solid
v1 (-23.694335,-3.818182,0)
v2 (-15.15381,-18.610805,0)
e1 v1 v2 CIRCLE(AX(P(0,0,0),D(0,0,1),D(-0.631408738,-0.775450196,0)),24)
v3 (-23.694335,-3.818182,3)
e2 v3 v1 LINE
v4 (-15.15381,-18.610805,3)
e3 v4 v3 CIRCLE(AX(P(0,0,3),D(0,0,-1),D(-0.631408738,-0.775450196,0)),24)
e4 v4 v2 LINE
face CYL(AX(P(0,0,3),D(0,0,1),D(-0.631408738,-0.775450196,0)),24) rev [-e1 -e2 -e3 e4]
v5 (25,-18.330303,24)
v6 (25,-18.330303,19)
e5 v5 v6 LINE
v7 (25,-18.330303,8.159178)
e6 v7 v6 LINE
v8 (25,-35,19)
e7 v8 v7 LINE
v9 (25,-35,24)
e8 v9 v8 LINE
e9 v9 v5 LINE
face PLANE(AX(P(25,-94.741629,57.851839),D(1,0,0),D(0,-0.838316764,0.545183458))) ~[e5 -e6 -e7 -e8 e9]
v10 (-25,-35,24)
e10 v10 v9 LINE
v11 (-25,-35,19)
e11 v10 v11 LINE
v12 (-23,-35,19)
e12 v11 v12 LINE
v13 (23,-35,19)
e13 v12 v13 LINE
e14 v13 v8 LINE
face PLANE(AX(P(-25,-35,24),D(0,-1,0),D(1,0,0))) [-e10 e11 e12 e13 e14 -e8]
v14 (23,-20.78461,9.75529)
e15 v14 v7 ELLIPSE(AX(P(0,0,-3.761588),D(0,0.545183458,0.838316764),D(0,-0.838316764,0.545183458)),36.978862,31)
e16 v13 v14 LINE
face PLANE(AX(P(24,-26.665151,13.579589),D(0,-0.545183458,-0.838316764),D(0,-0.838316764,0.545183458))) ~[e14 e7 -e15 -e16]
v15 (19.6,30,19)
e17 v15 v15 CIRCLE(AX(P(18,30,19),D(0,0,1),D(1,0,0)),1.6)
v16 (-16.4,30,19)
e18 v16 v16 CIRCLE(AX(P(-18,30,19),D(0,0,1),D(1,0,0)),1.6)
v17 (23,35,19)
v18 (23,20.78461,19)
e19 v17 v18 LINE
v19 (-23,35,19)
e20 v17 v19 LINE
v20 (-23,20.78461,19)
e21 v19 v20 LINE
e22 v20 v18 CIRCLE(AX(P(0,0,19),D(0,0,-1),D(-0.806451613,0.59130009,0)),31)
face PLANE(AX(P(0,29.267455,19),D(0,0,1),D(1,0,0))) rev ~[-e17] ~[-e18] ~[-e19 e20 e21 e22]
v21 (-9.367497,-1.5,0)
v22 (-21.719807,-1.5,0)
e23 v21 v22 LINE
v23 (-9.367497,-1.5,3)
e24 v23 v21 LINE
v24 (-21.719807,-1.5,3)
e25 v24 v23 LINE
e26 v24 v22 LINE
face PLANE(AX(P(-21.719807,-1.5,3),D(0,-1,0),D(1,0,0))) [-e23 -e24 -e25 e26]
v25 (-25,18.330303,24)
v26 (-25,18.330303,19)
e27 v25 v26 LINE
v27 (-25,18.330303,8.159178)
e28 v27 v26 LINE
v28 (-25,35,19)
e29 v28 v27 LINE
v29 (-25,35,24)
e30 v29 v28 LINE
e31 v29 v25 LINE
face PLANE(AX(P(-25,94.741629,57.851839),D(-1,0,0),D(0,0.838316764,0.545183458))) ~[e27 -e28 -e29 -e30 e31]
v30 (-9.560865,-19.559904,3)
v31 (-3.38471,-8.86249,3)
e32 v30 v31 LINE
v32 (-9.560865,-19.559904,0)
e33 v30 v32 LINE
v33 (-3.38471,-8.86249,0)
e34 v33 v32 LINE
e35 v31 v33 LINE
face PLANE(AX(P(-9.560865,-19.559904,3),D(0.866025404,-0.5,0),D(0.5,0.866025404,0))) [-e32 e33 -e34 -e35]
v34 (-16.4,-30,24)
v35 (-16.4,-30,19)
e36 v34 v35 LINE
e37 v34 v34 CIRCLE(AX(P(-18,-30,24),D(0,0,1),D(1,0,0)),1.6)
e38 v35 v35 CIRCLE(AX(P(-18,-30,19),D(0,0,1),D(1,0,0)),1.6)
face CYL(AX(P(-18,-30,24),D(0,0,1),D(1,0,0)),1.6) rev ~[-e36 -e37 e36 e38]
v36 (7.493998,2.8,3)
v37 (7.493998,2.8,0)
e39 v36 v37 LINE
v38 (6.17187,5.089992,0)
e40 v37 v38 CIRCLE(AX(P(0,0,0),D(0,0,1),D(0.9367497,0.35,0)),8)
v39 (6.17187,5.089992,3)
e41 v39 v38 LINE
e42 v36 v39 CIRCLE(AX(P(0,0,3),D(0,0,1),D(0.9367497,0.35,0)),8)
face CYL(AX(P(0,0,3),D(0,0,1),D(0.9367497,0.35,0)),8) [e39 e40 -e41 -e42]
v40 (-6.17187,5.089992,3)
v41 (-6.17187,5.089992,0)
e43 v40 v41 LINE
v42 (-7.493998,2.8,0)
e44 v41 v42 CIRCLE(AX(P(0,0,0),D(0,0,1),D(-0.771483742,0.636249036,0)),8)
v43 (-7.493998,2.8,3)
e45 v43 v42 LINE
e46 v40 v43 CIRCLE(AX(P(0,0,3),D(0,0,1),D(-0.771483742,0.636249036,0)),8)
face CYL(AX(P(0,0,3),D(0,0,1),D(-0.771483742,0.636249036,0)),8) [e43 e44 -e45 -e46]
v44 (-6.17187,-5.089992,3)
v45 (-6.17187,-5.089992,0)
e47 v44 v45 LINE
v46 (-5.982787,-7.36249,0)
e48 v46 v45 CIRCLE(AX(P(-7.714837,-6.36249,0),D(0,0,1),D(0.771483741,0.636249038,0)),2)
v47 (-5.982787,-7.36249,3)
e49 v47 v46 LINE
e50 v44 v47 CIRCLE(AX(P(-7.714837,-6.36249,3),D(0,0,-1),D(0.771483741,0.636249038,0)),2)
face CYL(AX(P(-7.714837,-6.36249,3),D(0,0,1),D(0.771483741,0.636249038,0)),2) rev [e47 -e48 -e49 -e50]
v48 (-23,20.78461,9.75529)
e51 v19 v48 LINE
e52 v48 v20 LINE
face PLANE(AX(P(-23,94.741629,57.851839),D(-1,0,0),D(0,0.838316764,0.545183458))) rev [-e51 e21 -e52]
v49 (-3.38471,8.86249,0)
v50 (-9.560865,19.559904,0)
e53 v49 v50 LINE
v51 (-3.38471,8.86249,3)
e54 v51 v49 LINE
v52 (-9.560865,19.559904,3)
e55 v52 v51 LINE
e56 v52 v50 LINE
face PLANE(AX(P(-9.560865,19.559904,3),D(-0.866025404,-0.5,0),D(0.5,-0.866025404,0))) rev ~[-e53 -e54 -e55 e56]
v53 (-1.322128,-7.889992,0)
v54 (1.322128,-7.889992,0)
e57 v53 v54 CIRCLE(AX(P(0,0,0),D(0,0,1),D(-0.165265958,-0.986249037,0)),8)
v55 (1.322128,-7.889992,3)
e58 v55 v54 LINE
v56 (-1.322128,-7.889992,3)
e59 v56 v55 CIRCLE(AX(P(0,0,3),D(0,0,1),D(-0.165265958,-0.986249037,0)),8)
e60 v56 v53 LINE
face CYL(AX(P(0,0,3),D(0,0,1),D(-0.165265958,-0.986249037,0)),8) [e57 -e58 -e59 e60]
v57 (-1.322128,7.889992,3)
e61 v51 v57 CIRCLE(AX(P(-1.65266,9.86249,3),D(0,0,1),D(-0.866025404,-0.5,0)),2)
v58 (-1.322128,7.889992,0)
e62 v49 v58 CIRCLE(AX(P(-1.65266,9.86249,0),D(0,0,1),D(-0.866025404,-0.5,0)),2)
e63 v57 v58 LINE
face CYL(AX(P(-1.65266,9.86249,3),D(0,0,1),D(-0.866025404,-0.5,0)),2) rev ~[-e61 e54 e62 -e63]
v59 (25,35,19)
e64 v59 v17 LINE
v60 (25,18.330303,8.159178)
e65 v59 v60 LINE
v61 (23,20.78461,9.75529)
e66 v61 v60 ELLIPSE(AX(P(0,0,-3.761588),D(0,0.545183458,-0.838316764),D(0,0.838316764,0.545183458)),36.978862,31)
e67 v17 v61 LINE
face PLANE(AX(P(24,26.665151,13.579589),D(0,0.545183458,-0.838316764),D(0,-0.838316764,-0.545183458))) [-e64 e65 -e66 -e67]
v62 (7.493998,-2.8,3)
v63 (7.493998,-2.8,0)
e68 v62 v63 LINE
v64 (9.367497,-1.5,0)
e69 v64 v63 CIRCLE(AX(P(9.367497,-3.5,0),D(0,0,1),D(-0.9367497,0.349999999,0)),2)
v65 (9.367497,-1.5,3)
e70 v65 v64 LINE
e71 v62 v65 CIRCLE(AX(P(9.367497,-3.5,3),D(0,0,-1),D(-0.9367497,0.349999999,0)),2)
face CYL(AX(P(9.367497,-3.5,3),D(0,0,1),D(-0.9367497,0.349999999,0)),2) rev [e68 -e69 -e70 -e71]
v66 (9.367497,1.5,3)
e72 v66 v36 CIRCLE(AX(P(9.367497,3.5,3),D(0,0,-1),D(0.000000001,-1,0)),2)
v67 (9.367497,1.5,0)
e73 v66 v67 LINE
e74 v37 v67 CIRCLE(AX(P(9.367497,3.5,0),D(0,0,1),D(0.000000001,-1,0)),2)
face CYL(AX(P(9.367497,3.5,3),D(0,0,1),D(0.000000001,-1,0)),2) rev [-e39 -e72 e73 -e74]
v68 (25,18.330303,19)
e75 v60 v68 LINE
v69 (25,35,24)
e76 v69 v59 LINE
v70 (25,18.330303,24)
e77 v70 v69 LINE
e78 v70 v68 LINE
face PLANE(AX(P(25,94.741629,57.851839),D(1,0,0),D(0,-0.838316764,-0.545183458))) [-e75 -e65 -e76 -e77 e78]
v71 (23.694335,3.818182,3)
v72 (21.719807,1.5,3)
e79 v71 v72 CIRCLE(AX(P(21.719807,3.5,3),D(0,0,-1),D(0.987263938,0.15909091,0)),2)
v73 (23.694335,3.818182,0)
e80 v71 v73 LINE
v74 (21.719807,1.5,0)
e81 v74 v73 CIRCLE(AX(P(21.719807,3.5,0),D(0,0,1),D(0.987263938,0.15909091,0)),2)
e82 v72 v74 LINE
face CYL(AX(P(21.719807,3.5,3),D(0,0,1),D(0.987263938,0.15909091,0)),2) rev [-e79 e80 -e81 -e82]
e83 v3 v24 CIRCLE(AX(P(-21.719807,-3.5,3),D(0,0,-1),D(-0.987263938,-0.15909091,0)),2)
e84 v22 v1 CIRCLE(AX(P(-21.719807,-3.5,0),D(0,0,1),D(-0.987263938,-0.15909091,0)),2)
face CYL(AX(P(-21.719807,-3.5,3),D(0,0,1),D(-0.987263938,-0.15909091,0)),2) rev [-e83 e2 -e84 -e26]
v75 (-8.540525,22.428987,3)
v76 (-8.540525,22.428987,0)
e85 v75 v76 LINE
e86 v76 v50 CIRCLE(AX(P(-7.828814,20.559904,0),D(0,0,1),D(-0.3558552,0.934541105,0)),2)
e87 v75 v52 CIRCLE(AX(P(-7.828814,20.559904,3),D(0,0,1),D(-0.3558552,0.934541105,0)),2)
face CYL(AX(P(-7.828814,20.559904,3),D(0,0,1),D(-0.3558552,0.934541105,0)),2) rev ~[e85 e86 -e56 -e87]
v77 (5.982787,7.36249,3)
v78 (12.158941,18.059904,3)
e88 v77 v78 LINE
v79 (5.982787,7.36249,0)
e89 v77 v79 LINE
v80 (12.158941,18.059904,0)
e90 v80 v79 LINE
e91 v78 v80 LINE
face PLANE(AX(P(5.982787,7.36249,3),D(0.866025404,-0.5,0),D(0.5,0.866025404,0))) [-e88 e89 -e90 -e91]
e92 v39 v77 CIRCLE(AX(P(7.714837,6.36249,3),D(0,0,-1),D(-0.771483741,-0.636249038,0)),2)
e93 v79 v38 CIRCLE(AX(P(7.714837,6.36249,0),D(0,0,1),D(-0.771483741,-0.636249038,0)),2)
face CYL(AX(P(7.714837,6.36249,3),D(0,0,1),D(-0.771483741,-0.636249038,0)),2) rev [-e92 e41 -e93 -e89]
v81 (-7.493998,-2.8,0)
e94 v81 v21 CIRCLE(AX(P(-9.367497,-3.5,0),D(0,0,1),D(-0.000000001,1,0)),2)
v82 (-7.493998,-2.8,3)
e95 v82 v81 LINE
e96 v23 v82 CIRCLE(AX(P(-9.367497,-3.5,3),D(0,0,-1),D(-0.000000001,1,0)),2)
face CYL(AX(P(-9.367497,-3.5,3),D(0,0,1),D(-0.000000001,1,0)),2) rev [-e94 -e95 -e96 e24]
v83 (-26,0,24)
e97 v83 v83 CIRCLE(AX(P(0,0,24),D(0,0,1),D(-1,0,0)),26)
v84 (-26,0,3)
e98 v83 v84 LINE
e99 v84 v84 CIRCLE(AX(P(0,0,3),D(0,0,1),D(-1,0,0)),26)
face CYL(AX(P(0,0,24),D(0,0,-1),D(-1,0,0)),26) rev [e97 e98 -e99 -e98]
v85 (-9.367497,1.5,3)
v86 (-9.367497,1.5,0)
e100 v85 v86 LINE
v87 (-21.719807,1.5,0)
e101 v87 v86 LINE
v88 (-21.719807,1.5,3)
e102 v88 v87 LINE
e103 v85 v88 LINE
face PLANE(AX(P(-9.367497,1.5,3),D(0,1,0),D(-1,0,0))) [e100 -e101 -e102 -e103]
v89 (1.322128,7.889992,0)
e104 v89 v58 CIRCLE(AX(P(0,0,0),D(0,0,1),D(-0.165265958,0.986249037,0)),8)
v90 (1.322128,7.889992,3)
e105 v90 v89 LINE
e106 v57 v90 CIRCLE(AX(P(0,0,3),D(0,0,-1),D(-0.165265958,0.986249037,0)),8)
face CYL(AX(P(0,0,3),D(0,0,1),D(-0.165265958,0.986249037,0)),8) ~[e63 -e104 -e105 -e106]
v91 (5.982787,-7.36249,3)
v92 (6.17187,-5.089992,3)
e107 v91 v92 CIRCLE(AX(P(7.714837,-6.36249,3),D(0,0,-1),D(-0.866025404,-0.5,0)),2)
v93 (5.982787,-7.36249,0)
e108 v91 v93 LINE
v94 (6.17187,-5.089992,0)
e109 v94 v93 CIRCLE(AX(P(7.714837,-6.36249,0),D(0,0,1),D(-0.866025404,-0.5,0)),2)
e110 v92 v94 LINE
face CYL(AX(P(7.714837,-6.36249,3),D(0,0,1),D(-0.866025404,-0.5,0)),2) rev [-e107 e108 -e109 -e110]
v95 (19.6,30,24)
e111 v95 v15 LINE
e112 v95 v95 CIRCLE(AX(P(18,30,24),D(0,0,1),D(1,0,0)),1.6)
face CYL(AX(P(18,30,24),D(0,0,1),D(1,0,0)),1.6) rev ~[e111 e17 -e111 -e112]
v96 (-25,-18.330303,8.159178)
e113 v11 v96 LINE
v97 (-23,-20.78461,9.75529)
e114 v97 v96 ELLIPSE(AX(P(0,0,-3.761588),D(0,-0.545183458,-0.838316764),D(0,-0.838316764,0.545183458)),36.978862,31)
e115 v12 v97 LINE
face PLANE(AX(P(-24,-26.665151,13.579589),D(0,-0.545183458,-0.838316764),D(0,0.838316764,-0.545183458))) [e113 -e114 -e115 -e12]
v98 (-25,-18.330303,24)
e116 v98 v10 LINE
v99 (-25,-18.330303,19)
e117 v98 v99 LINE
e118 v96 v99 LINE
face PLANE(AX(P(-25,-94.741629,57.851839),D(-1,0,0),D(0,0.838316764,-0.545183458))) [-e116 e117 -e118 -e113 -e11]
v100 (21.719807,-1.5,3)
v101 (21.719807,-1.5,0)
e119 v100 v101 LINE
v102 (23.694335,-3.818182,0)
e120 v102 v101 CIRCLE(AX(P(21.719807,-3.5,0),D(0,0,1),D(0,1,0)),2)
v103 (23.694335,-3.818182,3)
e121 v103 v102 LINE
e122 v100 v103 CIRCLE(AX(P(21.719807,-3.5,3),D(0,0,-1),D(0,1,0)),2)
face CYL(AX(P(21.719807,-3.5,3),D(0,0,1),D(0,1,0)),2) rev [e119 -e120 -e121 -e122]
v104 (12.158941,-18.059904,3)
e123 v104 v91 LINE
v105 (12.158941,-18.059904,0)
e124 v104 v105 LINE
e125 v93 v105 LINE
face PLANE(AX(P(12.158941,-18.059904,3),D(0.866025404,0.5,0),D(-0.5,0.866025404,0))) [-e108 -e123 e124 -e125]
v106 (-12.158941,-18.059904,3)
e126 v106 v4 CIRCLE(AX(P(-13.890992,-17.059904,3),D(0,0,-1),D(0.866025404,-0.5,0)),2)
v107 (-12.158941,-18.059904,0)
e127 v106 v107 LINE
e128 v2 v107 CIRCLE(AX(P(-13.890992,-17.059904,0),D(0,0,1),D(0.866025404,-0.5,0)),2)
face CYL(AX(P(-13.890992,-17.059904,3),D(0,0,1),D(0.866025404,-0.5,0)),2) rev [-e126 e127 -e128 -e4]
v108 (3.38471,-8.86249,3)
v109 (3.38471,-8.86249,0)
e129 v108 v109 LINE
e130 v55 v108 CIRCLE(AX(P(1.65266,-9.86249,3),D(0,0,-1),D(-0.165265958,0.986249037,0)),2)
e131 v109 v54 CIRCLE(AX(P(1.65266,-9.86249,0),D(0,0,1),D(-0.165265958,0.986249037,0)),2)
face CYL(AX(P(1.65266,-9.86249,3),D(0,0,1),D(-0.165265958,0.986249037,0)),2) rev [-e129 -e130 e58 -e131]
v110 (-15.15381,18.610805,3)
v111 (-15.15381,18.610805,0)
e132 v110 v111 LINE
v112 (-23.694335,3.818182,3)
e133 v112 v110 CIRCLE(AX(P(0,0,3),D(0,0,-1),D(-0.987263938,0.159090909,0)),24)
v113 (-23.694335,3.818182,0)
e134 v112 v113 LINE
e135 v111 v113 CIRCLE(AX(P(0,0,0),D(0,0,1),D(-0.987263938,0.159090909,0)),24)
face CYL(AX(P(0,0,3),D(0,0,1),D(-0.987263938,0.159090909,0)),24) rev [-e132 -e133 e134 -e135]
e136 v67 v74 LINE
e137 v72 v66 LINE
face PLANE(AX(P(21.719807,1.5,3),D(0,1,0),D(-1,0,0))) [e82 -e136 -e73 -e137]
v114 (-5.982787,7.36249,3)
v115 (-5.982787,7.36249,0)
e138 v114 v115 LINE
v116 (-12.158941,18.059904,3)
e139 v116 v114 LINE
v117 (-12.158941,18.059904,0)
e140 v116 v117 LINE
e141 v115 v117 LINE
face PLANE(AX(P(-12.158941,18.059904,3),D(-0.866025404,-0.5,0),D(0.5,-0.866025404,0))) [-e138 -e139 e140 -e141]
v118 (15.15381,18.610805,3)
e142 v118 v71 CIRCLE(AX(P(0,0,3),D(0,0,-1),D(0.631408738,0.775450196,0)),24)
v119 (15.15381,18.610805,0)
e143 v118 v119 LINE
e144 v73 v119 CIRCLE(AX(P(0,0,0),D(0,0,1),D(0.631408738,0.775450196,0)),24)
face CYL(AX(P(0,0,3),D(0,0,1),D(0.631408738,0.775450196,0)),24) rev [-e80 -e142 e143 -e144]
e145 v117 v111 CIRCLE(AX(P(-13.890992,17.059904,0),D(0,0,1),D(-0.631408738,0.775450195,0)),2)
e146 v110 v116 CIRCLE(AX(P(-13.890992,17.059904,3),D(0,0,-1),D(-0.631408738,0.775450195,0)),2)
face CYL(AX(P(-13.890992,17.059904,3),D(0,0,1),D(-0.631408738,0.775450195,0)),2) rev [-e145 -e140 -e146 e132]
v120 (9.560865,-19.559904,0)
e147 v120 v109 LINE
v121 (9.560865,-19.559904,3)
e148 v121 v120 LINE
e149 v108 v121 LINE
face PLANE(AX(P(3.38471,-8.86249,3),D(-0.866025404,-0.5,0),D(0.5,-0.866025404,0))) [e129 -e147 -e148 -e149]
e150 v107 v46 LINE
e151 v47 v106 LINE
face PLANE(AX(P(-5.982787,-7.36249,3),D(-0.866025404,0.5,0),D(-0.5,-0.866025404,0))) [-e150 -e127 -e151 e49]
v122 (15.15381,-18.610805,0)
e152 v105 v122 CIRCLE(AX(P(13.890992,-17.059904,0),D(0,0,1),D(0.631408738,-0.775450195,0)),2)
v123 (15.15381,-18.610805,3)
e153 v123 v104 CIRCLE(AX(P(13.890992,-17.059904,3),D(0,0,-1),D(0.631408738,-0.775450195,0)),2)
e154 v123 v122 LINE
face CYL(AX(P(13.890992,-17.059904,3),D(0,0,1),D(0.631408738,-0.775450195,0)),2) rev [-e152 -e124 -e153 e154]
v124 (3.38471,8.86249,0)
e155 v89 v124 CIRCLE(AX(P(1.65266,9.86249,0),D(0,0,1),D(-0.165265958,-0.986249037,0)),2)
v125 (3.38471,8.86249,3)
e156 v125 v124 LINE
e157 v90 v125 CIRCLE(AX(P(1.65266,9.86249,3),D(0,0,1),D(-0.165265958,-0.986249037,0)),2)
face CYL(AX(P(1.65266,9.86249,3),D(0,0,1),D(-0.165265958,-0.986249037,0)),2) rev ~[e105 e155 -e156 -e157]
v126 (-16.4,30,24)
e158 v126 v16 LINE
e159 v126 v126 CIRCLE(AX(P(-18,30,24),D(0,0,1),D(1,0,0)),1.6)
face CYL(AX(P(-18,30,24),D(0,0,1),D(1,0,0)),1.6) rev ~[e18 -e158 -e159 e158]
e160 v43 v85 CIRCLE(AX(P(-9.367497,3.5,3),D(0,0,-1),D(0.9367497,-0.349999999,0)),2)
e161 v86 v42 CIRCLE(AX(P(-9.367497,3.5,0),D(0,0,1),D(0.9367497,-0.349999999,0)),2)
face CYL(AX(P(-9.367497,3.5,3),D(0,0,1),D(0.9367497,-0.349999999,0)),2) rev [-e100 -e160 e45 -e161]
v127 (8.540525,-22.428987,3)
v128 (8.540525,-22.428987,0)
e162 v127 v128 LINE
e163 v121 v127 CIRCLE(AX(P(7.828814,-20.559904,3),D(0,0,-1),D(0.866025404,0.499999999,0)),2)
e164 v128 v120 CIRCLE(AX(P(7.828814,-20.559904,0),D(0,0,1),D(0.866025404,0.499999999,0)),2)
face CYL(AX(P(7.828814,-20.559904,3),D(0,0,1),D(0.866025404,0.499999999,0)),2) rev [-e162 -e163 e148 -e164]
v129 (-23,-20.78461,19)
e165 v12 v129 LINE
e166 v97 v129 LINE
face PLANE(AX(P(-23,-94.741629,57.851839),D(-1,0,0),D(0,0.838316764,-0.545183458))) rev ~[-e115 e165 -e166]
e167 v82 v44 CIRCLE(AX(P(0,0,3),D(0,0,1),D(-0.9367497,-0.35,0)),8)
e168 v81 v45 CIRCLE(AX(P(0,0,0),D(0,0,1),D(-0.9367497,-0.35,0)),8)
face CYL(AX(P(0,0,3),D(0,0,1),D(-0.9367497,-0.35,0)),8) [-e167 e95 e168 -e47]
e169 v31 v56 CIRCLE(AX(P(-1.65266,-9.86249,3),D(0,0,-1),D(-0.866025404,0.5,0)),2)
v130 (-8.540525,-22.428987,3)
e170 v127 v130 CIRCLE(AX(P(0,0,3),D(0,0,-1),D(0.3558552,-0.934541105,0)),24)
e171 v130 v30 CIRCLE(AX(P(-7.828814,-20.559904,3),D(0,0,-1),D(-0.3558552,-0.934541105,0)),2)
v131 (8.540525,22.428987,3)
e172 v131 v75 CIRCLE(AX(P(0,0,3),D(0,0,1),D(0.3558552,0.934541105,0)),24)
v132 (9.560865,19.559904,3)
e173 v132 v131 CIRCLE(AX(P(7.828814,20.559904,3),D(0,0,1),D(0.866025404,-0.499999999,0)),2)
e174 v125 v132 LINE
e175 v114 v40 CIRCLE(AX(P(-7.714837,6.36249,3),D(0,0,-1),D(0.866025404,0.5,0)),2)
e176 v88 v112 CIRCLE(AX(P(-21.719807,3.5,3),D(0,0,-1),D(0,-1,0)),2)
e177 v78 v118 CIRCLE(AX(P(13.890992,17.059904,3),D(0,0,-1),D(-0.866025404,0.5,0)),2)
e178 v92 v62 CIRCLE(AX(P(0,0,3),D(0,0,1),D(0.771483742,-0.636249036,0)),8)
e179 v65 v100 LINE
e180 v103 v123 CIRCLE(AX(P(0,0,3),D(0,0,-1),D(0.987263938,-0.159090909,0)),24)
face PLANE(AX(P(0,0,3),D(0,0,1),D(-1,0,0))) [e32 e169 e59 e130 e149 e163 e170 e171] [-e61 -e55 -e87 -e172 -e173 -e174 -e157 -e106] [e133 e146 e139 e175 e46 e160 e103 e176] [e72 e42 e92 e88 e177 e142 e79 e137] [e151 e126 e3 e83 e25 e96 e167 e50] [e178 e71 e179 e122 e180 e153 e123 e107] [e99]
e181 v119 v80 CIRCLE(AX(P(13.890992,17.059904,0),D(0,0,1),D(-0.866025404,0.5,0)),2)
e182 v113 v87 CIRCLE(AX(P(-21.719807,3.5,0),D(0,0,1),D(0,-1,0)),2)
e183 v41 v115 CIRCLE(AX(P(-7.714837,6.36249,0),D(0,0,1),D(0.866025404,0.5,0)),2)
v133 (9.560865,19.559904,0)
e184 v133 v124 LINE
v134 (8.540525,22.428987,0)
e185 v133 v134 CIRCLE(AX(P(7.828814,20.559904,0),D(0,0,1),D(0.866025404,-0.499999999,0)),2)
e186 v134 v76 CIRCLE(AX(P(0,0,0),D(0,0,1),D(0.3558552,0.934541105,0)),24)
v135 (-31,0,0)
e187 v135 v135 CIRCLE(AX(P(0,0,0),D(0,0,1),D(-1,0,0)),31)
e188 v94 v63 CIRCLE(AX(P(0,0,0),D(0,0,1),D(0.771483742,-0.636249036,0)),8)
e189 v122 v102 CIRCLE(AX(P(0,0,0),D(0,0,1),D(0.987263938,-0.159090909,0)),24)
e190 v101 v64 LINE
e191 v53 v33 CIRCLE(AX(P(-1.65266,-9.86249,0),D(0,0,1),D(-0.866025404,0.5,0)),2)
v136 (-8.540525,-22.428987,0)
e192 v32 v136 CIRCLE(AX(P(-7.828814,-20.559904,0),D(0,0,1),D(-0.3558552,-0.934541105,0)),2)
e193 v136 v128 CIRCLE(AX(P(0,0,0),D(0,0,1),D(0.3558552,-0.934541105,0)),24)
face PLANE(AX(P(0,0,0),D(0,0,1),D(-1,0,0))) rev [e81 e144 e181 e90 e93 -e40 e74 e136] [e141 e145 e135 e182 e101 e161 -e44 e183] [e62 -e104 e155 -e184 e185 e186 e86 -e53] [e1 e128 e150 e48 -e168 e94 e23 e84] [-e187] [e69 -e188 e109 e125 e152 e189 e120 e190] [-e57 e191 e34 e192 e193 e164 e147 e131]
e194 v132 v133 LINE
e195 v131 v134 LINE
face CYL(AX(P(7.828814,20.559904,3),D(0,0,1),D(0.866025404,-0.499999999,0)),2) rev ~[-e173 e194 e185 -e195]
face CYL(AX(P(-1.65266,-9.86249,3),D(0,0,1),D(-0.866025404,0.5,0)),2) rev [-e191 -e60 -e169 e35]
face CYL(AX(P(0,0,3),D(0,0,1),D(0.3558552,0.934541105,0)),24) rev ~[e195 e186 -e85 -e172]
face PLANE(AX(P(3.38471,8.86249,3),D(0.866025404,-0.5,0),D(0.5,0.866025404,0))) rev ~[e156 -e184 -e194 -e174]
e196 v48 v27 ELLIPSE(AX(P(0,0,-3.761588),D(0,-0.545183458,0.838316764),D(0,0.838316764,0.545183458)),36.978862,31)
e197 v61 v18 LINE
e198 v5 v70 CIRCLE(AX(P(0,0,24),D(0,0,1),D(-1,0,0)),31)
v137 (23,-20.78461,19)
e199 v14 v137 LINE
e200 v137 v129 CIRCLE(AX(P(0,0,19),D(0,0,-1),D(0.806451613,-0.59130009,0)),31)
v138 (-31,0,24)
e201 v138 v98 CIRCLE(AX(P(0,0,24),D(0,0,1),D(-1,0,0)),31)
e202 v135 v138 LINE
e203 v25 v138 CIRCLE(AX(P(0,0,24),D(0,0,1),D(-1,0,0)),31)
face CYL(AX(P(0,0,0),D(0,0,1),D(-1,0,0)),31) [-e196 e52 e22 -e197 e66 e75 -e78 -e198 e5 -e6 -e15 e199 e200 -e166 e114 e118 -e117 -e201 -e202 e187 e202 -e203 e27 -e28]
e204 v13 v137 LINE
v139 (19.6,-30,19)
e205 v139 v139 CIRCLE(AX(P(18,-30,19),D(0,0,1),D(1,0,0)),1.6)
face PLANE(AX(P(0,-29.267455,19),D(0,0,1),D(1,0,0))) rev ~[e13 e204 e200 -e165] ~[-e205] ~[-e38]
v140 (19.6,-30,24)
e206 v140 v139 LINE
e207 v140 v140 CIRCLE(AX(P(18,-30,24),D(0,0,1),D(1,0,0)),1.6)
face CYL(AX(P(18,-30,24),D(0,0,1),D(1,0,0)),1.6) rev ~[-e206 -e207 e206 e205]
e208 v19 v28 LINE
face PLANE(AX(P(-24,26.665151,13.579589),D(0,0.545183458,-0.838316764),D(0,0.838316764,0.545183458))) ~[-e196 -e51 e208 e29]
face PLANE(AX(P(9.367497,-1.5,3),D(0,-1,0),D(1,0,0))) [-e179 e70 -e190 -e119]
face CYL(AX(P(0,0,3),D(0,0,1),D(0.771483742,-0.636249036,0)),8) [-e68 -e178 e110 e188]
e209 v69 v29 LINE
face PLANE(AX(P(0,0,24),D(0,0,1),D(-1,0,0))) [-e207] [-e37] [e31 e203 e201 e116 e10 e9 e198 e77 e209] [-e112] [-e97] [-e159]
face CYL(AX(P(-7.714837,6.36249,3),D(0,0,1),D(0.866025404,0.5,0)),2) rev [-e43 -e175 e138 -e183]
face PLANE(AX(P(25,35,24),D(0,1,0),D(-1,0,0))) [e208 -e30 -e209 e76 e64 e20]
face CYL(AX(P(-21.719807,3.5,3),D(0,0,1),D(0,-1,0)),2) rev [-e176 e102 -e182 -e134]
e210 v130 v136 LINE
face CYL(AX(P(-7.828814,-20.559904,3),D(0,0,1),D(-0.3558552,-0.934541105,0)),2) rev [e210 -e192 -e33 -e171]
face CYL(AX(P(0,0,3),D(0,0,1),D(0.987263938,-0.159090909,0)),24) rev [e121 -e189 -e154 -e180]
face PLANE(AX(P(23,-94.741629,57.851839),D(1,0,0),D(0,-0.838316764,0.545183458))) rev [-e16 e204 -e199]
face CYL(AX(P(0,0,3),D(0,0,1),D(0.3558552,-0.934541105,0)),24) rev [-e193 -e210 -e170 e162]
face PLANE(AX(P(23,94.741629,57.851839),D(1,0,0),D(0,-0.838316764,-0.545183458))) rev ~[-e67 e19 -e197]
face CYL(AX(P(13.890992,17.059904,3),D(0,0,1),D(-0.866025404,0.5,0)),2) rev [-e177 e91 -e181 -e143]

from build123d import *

# Parameters (mm, degrees)
BOSS_EXTRUDE1_DEPTH     = 5
RIB4_REACH              = 72.264
SKETCH3_WALL_W          = 162.412301062
SKETCH3_WALL_H          = 2
MIRROR2_COPY_1_REACH    = 72.264
MIRROR2_COPY_1_SKETCH_W = 162.412301062
MIRROR2_COPY_1_SKETCH_H = 2
CUT_EXTRUDE1_DEPTH      = 52.254268115
SKETCH5_R               = 1.6
CUT_EXTRUDE2_DEPTH      = 53.554733374


with BuildPart() as part:
    # Sketch1 → Revolve1 (revolve)
    with BuildSketch(Plane(origin=(0, 0, 0), x_dir=(0, 0, -1), z_dir=(1, 0, 0)), mode=Mode.PRIVATE) as revolve1_sk:
        Polygon((0, 0), (0, 31), (-24, 31), (-24, 26), (-3, 26), (-3, 0), align=None)
    revolve(revolve1_sk.sketch.rotate(Axis((0, 0, 0), (0, 0, 1)), 90), axis=Axis((0, 0, 0), (0, 0, 1)))

    # Sketch2 → Boss-Extrude1 (add)
    with BuildSketch(Plane.XY.offset(24)):
        with BuildLine():
            Line((25, 35), (-25, 35))
            Line((-25, 35), (-25, 18.33030278))
            ThreePointArc((-25, 18.33030278), (0, 31), (25, 18.33030278))
            Line((25, 18.33030278), (25, 35))
        make_face()
        with BuildLine():
            Line((25, -35), (25, -18.33030278))
            ThreePointArc((25, -18.33030278), (0, -31), (-25, -18.33030278))
            Line((-25, -18.33030278), (-25, -35))
            Line((-25, -35), (25, -35))
        make_face()
    extrude(amount=-BOSS_EXTRUDE1_DEPTH)

    # Sketch3 wall → Rib4 (add, up to next)
    with BuildSketch(Plane(origin=(25, 26.66515139, 13.579588783), x_dir=(0, -0.838316763898, -0.54518345845), z_dir=(0, 0.54518345845, -0.838316763898)), mode=Mode.PRIVATE) as rib4_sk1:
        with Locations((0, 1)):
            Rectangle(SKETCH3_WALL_W, SKETCH3_WALL_H)
    rib4_tool1 = extrude(rib4_sk1.sketch, amount=-RIB4_REACH, mode=Mode.PRIVATE) - part.part
    rib4 = rib4_tool1.solids().sort_by_distance((25, 26.66515139, 13.579588783))[0]
    add(rib4)

    # Mirror1: Rib4 across plane
    add(rib4.mirror(Plane.ZX))

    # Mirror2: Rib4 across plane
    add(rib4.mirror(Plane(origin=(0, 0, 0), x_dir=(0, 0, 1), z_dir=(1, 0, 0))))

    # Mirror2 copy 1 sketch → Mirror2 copy 1 (add, up to next)
    with BuildSketch(Plane(origin=(-25, -26.66515139, 13.579588783), x_dir=(0, 0.838316763898, -0.54518345845), z_dir=(0, -0.54518345845, -0.838316763898)), mode=Mode.PRIVATE) as mirror2_copy_1_sk1:
        with Locations((0, 1)):
            Rectangle(MIRROR2_COPY_1_SKETCH_W, MIRROR2_COPY_1_SKETCH_H)
    mirror2_copy_1_tool1 = extrude(mirror2_copy_1_sk1.sketch, amount=-MIRROR2_COPY_1_REACH, mode=Mode.PRIVATE) - part.part
    add(mirror2_copy_1_tool1.solids().sort_by_distance((-25, -26.66515139, 13.579588783))[0])

    # Sketch4 → Cut-Extrude1 (cut, through all)
    with BuildSketch(Plane.XY.offset(3)):
        with BuildLine():
            Line((-9.560865209, 19.559904306), (-3.384710393, 8.86249037))
            ThreePointArc((-3.384710393, 8.86249037), (-2.50559682, 8.053485651), (-1.322127668, 7.889992296))
            ThreePointArc((-1.322127668, 7.889992296), (0, 8), (1.322127668, 7.889992296))
            ThreePointArc((1.322127668, 7.889992296), (2.50559682, 8.053485651), (3.384710393, 8.86249037))
            Line((3.384710393, 8.86249037), (9.560865209, 19.559904306))
            ThreePointArc((9.560865209, 19.559904306), (9.713197693, 21.230053251), (8.540524801, 22.428986516))
            ThreePointArc((8.540524801, 22.428986516), (0, 24), (-8.540524801, 22.428986516))
            ThreePointArc((-8.540524801, 22.428986516), (-9.713197693, 21.230053251), (-9.560865209, 19.559904306))
        make_face()
        with BuildLine():
            Line((21.719806629, 1.5), (9.367496998, 1.5))
            ThreePointArc((9.367496998, 1.5), (8.227321572, 1.856832327), (7.493997598, 2.8))
            ThreePointArc((7.493997598, 2.8), (6.92820323, 4), (6.17186993, 5.089992296))
            ThreePointArc((6.17186993, 5.089992296), (5.721724752, 6.196653323), (5.982786604, 7.36249037))
            Line((5.982786604, 7.36249037), (12.15894142, 18.059904306))
            ThreePointArc((12.15894142, 18.059904306), (13.529166592, 19.02690258), (15.153809703, 18.610804697))
            ThreePointArc((15.153809703, 18.610804697), (20.784609691, 12), (23.694334504, 3.818181818))
            ThreePointArc((23.694334504, 3.818181818), (23.242364286, 2.203150671), (21.719806629, 1.5))
        make_face()
        with BuildLine():
            Line((12.15894142, -18.059904306), (5.982786604, -7.36249037))
            ThreePointArc((5.982786604, -7.36249037), (5.721724752, -6.196653323), (6.17186993, -5.089992296))
            ThreePointArc((6.17186993, -5.089992296), (6.92820323, -4), (7.493997598, -2.8))
            ThreePointArc((7.493997598, -2.8), (8.227321572, -1.856832327), (9.367496998, -1.5))
            Line((9.367496998, -1.5), (21.719806629, -1.5))
            ThreePointArc((21.719806629, -1.5), (23.242364286, -2.203150671), (23.694334504, -3.818181818))
            ThreePointArc((23.694334504, -3.818181818), (20.784609691, -12), (15.153809703, -18.610804697))
            ThreePointArc((15.153809703, -18.610804697), (13.529166592, -19.02690258), (12.15894142, -18.059904306))
        make_face()
        with BuildLine():
            Line((-9.560865209, -19.559904306), (-3.384710393, -8.86249037))
            ThreePointArc((-3.384710393, -8.86249037), (-2.50559682, -8.053485651), (-1.322127668, -7.889992296))
            ThreePointArc((-1.322127668, -7.889992296), (0, -8), (1.322127668, -7.889992296))
            ThreePointArc((1.322127668, -7.889992296), (2.50559682, -8.053485651), (3.384710393, -8.86249037))
            Line((3.384710393, -8.86249037), (9.560865209, -19.559904306))
            ThreePointArc((9.560865209, -19.559904306), (9.713197693, -21.230053251), (8.540524801, -22.428986516))
            ThreePointArc((8.540524801, -22.428986516), (0, -24), (-8.540524801, -22.428986516))
            ThreePointArc((-8.540524801, -22.428986516), (-9.713197693, -21.230053251), (-9.560865209, -19.559904306))
        make_face()
        with BuildLine():
            Line((-21.719806629, -1.5), (-9.367496998, -1.5))
            ThreePointArc((-9.367496998, -1.5), (-8.227321572, -1.856832327), (-7.493997598, -2.8))
            ThreePointArc((-7.493997598, -2.8), (-6.92820323, -4), (-6.17186993, -5.089992296))
            ThreePointArc((-6.17186993, -5.089992296), (-5.721724752, -6.196653323), (-5.982786604, -7.36249037))
            Line((-5.982786604, -7.36249037), (-12.15894142, -18.059904306))
            ThreePointArc((-12.15894142, -18.059904306), (-13.529166592, -19.02690258), (-15.153809703, -18.610804697))
            ThreePointArc((-15.153809703, -18.610804697), (-20.784609691, -12), (-23.694334504, -3.818181818))
            ThreePointArc((-23.694334504, -3.818181818), (-23.242364286, -2.203150671), (-21.719806629, -1.5))
        make_face()
        with BuildLine():
            Line((-12.15894142, 18.059904306), (-5.982786604, 7.36249037))
            ThreePointArc((-5.982786604, 7.36249037), (-5.721724752, 6.196653323), (-6.17186993, 5.089992296))
            ThreePointArc((-6.17186993, 5.089992296), (-6.92820323, 4), (-7.493997598, 2.8))
            ThreePointArc((-7.493997598, 2.8), (-8.227321572, 1.856832327), (-9.367496998, 1.5))
            Line((-9.367496998, 1.5), (-21.719806629, 1.5))
            ThreePointArc((-21.719806629, 1.5), (-23.242364286, 2.203150671), (-23.694334504, 3.818181818))
            ThreePointArc((-23.694334504, 3.818181818), (-20.784609691, 12), (-15.153809703, 18.610804697))
            ThreePointArc((-15.153809703, 18.610804697), (-13.529166592, 19.02690258), (-12.15894142, 18.059904306))
        make_face()
    extrude(amount=-CUT_EXTRUDE1_DEPTH, mode=Mode.SUBTRACT)

    # Sketch5 → Cut-Extrude2 (cut, through all)
    with BuildSketch(Plane.XY.offset(24)):
        with Locations((-18, 30)):
            Circle(SKETCH5_R)
        with Locations((18, 30)):
            Circle(SKETCH5_R)
        with Locations((18, -30)):
            Circle(SKETCH5_R)
        with Locations((-18, -30)):
            Circle(SKETCH5_R)
    extrude(amount=-CUT_EXTRUDE2_DEPTH, mode=Mode.SUBTRACT)


solid = part.part
